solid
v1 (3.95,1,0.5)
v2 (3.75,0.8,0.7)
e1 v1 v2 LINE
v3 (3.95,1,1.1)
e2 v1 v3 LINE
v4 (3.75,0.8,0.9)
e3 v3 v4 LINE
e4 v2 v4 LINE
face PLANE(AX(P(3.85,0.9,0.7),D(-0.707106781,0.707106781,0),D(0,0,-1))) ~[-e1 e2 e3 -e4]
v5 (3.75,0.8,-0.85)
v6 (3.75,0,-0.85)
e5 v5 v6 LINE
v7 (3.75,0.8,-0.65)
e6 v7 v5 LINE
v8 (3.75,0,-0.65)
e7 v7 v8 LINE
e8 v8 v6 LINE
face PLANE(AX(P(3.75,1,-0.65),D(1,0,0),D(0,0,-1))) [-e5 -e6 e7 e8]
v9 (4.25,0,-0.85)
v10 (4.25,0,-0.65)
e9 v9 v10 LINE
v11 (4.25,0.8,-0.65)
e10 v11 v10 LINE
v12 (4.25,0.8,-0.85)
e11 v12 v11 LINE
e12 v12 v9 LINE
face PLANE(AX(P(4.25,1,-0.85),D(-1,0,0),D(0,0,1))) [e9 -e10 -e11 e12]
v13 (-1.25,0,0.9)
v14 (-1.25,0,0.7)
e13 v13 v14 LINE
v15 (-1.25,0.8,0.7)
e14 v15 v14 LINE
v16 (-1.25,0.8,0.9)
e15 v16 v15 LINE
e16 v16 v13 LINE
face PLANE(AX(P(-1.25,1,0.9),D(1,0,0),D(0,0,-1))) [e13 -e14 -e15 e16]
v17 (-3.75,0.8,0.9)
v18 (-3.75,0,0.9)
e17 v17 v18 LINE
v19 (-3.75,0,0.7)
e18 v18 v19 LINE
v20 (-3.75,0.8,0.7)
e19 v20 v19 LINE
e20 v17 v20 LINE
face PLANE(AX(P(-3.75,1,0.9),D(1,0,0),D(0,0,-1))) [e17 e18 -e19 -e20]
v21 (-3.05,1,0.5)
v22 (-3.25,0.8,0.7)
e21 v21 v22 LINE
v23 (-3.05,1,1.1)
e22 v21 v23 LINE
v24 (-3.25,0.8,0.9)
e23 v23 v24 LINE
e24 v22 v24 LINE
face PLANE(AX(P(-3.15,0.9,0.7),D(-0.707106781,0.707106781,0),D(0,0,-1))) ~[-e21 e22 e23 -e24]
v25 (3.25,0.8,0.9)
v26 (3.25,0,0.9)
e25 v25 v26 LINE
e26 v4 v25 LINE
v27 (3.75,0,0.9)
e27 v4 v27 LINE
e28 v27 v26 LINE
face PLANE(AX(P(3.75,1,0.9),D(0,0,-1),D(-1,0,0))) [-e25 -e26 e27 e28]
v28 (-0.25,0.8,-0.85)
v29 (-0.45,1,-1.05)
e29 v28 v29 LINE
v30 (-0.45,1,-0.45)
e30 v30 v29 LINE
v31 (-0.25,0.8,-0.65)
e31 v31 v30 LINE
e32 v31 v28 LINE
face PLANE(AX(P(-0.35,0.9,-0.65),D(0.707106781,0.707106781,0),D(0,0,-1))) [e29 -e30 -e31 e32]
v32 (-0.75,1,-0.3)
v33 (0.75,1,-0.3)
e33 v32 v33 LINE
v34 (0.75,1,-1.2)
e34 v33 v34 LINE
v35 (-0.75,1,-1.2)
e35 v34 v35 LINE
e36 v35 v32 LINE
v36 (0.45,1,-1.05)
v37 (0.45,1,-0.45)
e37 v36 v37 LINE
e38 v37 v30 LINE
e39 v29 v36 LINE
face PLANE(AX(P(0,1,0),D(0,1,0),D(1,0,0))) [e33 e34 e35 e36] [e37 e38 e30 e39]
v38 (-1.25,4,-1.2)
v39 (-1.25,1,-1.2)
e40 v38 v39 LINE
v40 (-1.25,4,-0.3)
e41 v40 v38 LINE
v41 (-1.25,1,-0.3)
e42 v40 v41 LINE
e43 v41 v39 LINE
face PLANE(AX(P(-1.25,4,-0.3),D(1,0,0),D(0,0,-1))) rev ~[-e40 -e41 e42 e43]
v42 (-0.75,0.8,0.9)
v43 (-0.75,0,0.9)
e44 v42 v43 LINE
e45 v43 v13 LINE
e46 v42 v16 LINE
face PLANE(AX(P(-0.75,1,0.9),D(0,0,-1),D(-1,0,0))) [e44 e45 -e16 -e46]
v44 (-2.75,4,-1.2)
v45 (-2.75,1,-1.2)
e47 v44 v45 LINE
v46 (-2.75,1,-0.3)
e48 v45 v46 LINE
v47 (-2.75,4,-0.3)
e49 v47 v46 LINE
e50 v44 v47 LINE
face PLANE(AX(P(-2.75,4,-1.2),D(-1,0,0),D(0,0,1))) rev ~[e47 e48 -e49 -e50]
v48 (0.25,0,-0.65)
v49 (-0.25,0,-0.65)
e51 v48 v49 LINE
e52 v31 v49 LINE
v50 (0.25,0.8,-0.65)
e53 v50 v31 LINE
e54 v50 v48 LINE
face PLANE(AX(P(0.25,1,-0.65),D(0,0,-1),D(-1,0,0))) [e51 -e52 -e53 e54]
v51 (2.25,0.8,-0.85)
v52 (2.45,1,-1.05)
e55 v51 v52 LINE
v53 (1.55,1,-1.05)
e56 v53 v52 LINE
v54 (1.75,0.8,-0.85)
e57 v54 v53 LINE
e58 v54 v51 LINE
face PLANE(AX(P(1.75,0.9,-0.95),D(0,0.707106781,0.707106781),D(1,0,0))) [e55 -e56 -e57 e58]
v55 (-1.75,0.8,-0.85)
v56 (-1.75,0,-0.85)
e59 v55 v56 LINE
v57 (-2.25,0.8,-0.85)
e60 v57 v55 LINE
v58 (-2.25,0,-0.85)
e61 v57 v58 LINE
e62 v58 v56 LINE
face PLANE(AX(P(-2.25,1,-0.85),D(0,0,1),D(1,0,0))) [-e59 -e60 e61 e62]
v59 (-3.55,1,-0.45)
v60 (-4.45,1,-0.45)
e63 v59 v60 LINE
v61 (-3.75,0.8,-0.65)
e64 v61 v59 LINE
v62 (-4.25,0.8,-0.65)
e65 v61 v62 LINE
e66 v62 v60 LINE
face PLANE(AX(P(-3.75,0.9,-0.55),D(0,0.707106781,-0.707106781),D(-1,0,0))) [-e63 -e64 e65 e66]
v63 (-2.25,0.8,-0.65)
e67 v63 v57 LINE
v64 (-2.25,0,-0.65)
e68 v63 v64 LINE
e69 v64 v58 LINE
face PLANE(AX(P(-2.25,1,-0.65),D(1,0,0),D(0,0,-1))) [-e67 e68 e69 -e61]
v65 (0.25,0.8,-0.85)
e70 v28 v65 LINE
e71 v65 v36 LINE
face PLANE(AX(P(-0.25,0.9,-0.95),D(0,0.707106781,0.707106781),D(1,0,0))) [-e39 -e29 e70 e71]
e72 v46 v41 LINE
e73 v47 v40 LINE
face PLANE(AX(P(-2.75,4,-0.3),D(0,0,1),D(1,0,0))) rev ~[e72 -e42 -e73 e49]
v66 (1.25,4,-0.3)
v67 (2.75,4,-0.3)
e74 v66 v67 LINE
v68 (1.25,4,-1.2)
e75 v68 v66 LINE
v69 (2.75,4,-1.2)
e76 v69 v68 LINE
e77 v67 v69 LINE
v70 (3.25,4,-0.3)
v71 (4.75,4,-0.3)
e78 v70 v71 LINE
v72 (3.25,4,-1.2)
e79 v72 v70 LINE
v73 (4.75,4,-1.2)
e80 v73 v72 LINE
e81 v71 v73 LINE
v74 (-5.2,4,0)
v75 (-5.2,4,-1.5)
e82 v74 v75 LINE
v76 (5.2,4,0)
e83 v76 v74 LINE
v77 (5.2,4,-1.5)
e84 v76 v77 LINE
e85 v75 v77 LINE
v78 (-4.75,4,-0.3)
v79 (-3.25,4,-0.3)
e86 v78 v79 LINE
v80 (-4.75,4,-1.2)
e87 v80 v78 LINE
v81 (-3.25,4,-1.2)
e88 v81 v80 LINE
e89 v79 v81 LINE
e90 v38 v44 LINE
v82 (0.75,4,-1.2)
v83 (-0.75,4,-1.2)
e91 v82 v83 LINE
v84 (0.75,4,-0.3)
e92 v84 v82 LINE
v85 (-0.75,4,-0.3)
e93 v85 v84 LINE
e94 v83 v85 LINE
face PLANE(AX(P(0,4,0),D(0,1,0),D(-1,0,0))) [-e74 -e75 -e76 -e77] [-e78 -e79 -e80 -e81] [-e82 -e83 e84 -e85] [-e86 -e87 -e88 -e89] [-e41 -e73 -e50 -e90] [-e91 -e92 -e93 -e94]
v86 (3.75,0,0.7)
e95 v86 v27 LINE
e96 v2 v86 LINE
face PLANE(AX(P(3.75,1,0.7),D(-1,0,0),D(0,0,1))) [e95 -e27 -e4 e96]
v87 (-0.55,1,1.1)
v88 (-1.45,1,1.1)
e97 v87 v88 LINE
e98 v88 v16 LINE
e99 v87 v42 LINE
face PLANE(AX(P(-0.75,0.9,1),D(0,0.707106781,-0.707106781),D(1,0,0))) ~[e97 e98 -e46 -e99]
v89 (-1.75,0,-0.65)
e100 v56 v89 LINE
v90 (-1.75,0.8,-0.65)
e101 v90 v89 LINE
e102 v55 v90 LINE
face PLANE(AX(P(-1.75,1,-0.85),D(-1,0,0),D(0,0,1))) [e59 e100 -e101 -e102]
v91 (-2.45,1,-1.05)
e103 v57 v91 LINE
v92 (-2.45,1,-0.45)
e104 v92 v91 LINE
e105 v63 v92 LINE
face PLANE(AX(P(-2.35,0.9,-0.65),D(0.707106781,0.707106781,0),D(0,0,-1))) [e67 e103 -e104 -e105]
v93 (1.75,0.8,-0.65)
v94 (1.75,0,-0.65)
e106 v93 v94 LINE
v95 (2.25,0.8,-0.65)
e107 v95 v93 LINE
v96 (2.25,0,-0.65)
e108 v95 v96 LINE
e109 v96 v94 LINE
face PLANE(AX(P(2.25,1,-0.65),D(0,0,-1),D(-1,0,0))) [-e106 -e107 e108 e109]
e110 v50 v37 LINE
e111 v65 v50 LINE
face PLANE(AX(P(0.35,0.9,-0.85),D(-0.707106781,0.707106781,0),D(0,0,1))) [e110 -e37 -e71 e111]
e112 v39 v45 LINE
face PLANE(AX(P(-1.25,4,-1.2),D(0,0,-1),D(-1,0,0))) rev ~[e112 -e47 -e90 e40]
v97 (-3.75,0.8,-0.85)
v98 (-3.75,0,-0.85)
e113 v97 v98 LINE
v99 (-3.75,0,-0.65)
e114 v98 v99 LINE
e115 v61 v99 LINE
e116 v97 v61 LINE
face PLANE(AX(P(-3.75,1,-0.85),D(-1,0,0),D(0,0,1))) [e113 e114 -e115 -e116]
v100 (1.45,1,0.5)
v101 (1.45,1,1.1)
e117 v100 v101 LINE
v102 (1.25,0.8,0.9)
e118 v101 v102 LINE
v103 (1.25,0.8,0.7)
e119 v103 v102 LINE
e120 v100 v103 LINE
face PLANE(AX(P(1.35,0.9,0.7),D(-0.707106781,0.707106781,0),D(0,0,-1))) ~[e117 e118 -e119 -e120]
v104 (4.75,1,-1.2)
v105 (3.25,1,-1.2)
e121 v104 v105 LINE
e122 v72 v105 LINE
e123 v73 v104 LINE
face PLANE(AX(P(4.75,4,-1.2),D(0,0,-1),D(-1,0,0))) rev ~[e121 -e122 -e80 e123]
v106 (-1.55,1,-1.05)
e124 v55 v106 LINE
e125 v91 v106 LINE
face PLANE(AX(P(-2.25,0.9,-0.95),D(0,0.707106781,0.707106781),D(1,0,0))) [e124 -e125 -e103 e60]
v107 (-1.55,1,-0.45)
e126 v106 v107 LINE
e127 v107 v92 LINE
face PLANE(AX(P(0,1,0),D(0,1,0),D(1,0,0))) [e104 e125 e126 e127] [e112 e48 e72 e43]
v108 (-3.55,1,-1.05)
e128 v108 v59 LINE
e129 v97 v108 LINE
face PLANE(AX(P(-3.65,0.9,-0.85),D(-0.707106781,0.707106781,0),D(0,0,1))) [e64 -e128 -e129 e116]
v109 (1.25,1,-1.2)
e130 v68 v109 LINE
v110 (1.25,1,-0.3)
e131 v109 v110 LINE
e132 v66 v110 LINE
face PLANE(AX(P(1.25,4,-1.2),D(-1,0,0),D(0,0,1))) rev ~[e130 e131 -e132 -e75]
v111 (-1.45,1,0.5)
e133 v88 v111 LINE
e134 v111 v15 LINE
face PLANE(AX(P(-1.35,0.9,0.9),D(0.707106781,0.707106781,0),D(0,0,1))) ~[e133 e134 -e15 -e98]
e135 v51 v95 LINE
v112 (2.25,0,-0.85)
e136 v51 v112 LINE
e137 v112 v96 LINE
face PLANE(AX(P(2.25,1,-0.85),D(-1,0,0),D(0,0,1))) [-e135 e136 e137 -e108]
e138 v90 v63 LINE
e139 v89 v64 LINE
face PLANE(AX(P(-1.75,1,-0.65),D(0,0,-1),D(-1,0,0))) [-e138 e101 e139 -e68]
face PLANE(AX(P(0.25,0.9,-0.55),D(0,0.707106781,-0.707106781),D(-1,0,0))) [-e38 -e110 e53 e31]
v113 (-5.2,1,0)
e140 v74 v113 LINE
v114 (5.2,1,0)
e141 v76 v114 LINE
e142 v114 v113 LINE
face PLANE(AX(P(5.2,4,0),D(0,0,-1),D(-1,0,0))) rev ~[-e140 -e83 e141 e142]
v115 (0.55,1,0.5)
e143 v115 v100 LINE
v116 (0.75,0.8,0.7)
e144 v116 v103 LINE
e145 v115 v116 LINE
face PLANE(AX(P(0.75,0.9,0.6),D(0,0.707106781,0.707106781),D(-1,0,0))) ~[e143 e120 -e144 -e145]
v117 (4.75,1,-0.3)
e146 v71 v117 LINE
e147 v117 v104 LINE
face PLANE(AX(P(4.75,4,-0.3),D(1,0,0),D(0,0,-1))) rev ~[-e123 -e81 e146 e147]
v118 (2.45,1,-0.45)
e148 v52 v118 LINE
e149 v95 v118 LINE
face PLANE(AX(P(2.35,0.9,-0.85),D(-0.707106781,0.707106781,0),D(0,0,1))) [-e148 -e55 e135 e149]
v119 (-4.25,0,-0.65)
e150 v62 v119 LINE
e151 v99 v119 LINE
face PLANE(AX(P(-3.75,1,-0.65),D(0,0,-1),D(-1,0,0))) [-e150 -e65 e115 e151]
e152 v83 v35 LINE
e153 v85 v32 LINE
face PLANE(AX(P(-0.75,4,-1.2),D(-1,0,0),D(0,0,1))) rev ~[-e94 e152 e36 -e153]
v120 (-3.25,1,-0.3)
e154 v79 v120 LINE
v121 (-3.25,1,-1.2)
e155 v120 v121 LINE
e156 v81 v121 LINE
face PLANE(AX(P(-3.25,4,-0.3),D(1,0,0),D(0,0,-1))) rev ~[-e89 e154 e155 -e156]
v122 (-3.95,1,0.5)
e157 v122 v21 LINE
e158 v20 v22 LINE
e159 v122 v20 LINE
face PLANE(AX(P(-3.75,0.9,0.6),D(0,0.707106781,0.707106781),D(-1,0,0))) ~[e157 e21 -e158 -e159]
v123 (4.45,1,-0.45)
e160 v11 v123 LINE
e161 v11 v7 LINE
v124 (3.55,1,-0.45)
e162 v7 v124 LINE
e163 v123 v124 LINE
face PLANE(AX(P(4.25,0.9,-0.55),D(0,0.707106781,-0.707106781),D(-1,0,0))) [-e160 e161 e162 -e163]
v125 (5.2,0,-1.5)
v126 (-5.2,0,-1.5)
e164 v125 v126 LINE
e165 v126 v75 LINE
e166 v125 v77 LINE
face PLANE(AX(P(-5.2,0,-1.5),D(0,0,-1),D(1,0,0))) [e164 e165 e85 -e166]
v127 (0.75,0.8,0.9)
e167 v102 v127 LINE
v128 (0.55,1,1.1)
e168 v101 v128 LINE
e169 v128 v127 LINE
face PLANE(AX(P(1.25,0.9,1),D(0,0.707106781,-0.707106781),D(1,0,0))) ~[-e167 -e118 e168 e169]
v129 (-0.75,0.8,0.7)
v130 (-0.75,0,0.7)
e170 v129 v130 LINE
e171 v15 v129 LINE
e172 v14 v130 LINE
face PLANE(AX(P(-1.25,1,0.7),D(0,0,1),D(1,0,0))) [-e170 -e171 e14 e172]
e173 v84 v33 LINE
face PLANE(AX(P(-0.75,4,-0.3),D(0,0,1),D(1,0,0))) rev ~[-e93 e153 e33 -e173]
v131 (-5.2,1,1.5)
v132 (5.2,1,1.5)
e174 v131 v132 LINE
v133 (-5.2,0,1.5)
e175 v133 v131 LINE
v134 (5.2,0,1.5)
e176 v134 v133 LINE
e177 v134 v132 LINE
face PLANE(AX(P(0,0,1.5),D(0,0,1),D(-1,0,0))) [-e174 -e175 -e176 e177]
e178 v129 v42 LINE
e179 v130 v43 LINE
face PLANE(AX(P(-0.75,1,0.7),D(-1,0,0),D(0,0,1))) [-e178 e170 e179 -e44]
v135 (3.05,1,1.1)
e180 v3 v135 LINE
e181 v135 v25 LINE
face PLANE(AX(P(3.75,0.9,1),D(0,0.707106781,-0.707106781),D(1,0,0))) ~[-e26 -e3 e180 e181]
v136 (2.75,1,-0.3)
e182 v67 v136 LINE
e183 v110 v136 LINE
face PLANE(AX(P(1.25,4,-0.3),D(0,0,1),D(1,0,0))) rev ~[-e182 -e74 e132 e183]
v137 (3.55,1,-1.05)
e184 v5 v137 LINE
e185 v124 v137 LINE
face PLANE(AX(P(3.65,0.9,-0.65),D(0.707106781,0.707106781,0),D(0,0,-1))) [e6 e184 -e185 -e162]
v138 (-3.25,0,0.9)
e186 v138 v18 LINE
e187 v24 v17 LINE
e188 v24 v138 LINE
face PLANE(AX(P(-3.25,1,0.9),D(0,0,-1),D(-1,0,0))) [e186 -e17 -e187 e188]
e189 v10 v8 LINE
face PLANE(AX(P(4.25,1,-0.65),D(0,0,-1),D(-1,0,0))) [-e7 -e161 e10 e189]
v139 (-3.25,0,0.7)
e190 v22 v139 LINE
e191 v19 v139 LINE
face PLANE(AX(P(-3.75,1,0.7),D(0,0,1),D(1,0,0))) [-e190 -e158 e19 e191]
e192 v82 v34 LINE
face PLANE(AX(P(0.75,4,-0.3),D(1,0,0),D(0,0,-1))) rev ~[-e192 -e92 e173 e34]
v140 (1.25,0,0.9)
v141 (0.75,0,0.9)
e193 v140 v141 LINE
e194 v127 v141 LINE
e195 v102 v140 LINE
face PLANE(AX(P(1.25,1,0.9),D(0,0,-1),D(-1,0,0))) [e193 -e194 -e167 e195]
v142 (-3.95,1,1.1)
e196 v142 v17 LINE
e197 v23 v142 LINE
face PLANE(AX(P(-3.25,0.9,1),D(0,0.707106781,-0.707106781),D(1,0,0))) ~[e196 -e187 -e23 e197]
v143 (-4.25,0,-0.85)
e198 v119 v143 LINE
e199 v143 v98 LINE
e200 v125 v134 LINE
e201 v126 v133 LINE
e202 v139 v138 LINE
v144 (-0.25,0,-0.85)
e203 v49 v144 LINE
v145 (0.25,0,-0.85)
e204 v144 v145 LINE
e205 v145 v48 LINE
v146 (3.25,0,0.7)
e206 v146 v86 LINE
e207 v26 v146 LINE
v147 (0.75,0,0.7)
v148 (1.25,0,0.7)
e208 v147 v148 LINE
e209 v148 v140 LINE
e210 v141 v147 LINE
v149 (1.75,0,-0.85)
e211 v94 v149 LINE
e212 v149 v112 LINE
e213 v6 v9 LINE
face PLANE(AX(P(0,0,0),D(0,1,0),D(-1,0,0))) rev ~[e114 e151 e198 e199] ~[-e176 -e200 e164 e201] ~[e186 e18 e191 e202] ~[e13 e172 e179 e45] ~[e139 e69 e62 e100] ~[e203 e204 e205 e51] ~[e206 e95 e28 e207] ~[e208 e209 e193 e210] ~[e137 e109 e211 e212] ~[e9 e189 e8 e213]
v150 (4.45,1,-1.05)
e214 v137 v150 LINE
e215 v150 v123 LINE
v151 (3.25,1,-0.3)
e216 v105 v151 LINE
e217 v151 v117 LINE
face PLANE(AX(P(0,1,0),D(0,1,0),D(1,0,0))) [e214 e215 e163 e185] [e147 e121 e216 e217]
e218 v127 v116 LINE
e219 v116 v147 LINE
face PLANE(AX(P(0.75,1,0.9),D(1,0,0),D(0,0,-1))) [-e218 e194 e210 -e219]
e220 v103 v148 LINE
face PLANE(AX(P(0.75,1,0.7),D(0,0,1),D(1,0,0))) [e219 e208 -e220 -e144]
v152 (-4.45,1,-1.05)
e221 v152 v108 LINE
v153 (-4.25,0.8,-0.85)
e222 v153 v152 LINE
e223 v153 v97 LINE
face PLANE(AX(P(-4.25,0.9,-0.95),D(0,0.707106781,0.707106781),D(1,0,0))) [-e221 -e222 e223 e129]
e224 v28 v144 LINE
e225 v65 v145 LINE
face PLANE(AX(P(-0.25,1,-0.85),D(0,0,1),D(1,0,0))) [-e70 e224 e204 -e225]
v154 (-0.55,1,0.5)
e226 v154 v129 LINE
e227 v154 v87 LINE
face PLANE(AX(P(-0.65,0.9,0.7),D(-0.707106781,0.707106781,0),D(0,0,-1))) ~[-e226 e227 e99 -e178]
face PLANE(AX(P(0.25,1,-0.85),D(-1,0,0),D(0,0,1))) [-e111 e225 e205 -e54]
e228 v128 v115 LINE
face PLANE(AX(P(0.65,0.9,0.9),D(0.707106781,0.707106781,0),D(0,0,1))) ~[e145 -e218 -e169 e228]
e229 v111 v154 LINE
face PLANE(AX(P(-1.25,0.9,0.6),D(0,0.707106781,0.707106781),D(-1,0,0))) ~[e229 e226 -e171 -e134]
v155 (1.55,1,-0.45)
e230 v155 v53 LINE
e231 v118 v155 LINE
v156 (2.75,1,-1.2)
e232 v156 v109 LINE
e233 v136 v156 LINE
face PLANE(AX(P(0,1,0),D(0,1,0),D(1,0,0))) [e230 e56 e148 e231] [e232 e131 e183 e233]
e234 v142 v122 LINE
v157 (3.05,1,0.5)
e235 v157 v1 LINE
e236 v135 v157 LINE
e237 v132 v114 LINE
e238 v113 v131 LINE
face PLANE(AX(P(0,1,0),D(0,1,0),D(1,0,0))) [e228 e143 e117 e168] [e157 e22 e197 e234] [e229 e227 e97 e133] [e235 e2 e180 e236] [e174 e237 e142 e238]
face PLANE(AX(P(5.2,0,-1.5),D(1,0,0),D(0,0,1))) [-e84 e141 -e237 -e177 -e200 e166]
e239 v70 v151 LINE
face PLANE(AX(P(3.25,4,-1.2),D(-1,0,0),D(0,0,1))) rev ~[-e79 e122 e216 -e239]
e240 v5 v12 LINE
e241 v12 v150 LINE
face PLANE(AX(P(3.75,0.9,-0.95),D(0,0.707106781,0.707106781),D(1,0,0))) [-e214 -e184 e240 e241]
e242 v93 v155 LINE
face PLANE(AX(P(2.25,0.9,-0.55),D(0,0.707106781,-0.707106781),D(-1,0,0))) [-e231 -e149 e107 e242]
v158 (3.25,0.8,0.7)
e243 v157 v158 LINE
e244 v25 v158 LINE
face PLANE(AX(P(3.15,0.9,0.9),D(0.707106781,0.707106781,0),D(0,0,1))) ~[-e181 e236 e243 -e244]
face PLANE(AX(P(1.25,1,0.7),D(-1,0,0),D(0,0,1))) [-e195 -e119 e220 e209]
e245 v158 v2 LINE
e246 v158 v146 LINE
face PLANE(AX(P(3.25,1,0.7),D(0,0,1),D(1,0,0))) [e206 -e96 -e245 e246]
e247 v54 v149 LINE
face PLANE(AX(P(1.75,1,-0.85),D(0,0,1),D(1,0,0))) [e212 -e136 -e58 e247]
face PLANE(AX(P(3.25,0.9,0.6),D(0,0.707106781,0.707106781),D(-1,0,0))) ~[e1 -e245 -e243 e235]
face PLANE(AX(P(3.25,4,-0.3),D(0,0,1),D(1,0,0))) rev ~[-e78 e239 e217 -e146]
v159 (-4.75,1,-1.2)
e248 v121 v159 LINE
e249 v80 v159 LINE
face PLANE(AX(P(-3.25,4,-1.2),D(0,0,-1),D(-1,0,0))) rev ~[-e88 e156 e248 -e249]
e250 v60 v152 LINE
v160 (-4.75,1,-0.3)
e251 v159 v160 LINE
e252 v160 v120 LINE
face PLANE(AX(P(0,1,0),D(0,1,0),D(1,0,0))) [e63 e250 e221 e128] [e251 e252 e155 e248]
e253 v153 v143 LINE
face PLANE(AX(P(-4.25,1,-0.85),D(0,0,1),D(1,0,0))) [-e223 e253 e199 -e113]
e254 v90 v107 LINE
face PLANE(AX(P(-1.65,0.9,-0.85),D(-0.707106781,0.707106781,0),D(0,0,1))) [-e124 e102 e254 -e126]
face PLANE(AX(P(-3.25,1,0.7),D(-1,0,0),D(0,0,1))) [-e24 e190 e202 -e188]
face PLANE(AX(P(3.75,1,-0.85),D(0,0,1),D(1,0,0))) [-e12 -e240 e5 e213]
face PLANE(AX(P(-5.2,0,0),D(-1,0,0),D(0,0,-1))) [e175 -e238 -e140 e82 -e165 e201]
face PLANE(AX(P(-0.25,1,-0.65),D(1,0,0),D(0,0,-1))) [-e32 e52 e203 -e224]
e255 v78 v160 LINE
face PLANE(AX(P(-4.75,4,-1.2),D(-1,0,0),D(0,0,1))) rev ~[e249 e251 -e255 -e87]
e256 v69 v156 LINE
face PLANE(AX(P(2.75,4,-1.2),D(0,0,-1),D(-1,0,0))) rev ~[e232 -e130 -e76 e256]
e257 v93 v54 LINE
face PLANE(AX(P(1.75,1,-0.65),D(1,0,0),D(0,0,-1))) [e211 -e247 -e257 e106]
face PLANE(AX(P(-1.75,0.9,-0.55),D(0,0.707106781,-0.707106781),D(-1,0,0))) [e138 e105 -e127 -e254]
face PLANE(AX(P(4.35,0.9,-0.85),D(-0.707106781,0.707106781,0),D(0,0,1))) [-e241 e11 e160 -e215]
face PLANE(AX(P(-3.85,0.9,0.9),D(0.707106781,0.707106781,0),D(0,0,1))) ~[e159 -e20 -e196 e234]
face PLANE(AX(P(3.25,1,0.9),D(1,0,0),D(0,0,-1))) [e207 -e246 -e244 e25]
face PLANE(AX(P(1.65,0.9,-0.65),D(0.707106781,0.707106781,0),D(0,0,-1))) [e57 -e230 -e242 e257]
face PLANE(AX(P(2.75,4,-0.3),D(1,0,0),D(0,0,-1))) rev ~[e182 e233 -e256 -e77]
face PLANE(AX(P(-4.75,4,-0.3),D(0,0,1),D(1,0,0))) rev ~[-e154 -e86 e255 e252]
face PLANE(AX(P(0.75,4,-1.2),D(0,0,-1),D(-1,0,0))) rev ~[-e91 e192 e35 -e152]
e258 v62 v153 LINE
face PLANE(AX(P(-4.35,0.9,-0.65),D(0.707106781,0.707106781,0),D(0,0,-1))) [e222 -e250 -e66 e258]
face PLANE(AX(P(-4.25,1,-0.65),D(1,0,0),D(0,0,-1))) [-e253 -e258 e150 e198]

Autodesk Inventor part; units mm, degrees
ref_plane "YZ Plane" through (0, 0, 0) normal (1, 0, 0) x (0, 1, 0)
ref_plane "XZ Plane" through (0, 0, 0) normal (0, 1, 0) x (-1, 0, 0)
ref_plane "XY Plane" through (0, 0, 0) normal (0, 0, 1) x (1, 0, 0)
sketch "Sketch1" plane through (0, 0, 0) normal (0, 1, 0) x (-1, 0, 0)
  line L0 (5.2, -1.5) -> (-5.2, -1.5)
  line L1 (-5.2, -1.5) -> (-5.2, 1.5)
  line L2 (-5.2, 1.5) -> (5.2, 1.5)
  line L3 (5.2, 1.5) -> (5.2, -1.5)
  line L4 (7.28, 0) -> (-7.28, 0) projected
  line L5 (0, -2.1) -> (0, 2.1) projected
  point P0 (0, 0)
  dimension "d0" = 10.4
  dimension "d1" = 3
extrude "Extrusion1" add sketch "Sketch1" along normal blind 4
sketch "Sketch2" plane through (0, 4, 0) normal (0, 1, 0) x (1, 0, 0)
  line L0 (-5.2, -1.5) -> (5.2, -1.5) projected
  line L1 (5.2, -1.5) -> (5.2, 1.5) projected
  line L2 (-5.2, -1.5) -> (5.2, -1.5)
  line L3 (5.2, -1.5) -> (5.2, 0)
  line L4 (5.2, 0) -> (-5.2, 0)
  line L5 (-5.2, 0) -> (-5.2, -1.5)
  line L6 (-4.75, 0.3) -> (-3.25, 0.3)
  line L7 (-3.25, 0.3) -> (-3.25, 1.2)
  line L8 (-3.25, 1.2) -> (-4.75, 1.2)
  line L9 (-4.75, 1.2) -> (-4.75, 0.3)
  line L10 (-5.2, 1.5) -> (-5.2, -1.5) projected
  line L11 (-2.75, 0.3) -> (-1.25, 0.3)
  line L12 (-1.25, 0.3) -> (-1.25, 1.2)
  line L13 (-1.25, 1.2) -> (-2.75, 1.2)
  line L14 (-2.75, 1.2) -> (-2.75, 0.3)
  line L15 (-0.75, 0.3) -> (0.75, 0.3)
  line L16 (0.75, 0.3) -> (0.75, 1.2)
  line L17 (0.75, 1.2) -> (-0.75, 1.2)
  line L18 (-0.75, 1.2) -> (-0.75, 0.3)
  line L19 (1.25, 0.3) -> (2.75, 0.3)
  line L20 (2.75, 0.3) -> (2.75, 1.2)
  line L21 (2.75, 1.2) -> (1.25, 1.2)
  line L22 (1.25, 1.2) -> (1.25, 0.3)
  line L23 (3.25, 0.3) -> (4.75, 0.3)
  line L24 (4.75, 0.3) -> (4.75, 1.2)
  line L25 (4.75, 1.2) -> (3.25, 1.2)
  line L26 (3.25, 1.2) -> (3.25, 0.3)
  point P0 (0, 0)
  dimension "d4" = 1.5
  dimension "d5" = 0.9
  dimension "d6" = 0.3
  dimension "d7" = 0.45
  dimension "d10" = 2
extrude "Extrusion2" cut sketch "Sketch2" against normal blind 3
sketch "Sketch3" plane through (0, 1, 0) normal (0, 1, 0) x (1, 0, 0)
  line L0 (3.75, -0.9) -> (3.25, -0.9)
  line L1 (3.25, -0.9) -> (3.25, -0.7)
  line L2 (3.25, -0.7) -> (3.75, -0.7)
  line L3 (3.75, -0.7) -> (3.75, -0.9)
  line L4 (5.2, 1.5) -> (-5.2, 1.5) projected
  line L5 (5.2, -1.5) -> (-5.2, -1.5) projected
  line L6 (5.2, 0) -> (5.2, -1.5) projected
  line L7 (1.25, -0.9) -> (0.75, -0.9)
  line L8 (0.75, -0.9) -> (0.75, -0.7)
  line L9 (0.75, -0.7) -> (1.25, -0.7)
  line L10 (1.25, -0.7) -> (1.25, -0.9)
  line L11 (-0.75, -0.9) -> (-1.25, -0.9)
  line L12 (-1.25, -0.9) -> (-1.25, -0.7)
  line L13 (-1.25, -0.7) -> (-0.75, -0.7)
  line L14 (-0.75, -0.7) -> (-0.75, -0.9)
  line L15 (-3.25, -0.9) -> (-3.75, -0.9)
  line L16 (-3.75, -0.9) -> (-3.75, -0.7)
  line L17 (-3.75, -0.7) -> (-3.25, -0.7)
  line L18 (-3.25, -0.7) -> (-3.25, -0.9)
  line L19 (-5.2, -1.5) -> (-5.2, 0) projected
  line L20 (-3.75, 0.65) -> (-4.25, 0.65)
  line L21 (-4.25, 0.65) -> (-4.25, 0.85)
  line L22 (-4.25, 0.85) -> (-3.75, 0.85)
  line L23 (-3.75, 0.85) -> (-3.75, 0.65)
  line L24 (-4.75, 0.3) -> (-4.75, 1.2) projected
  line L25 (-3.25, 1.2) -> (-3.25, 0.3) projected
  line L26 (-4.75, 1.2) -> (-3.25, 1.2) projected
  line L27 (-3.25, 0.3) -> (-4.75, 0.3) projected
  line L28 (-1.75, 0.85) -> (-1.75, 0.65)
  line L29 (-1.75, 0.65) -> (-2.25, 0.65)
  line L30 (-2.25, 0.85) -> (-1.75, 0.85)
  line L31 (-2.25, 0.65) -> (-2.25, 0.85)
  line L32 (0.25, 0.85) -> (0.25, 0.65)
  line L33 (0.25, 0.65) -> (-0.25, 0.65)
  line L34 (-0.25, 0.85) -> (0.25, 0.85)
  line L35 (-0.25, 0.65) -> (-0.25, 0.85)
  line L36 (2.25, 0.85) -> (2.25, 0.65)
  line L37 (2.25, 0.65) -> (1.75, 0.65)
  line L38 (1.75, 0.85) -> (2.25, 0.85)
  line L39 (1.75, 0.65) -> (1.75, 0.85)
  line L40 (4.25, 0.85) -> (4.25, 0.65)
  line L41 (4.25, 0.65) -> (3.75, 0.65)
  line L42 (3.75, 0.85) -> (4.25, 0.85)
  line L43 (3.75, 0.65) -> (3.75, 0.85)
  point P0 (0, 0)
  dimension "d18" = 0.2
  dimension "d19" = 0.5
  dimension "d20" = 0.6
  dimension "d21" = 1.45
  dimension "d22" = 0.2
  dimension "d23" = 0.5
  dimension "d24" = 0.2
  dimension "d25" = 0.5
  dimension "d26" = 0.2
  dimension "d27" = 0.5
  dimension "d28" = 3.95
  dimension "d29" = 1.45
  dimension "d30" = 3.95
  dimension "d36" = 0.2
  dimension "d37" = 0.5
  dimension "d38" = 0.5
  dimension "d39" = 0.5
  dimension "d40" = 0.35
  dimension "d41" = 0.35
  dimension "d44" = 2
extrude "Extrusion3" cut sketch "Sketch3" against normal up to surface (1 mm away) contours L0 L1 L2 L3 | L7 L8 L9 L10 | L11 L12 L13 L14 | L15 L16 L17 L18 | L20 L21 L22 L23 | L28 L29 L31 L30 | L32 L33 L35 L34 | L36 L37 L39 L38 | L40 L41 L43 L42
chamfer "Chamfer1" distance 0.2 angle 45 36 edges at (-3.75, 1, 0.8) (-3.5, 1, 0.7) (-3.5, 1, 0.9) (-3.25, 1, 0.8) (-1.25, 1, 0.8) (-1, 1, 0.7) (-1, 1, 0.9) (-0.75, 1, 0.8) (0.75, 1, 0.8) (1, 1, 0.7) (1, 1, 0.9) (1.25, 1, 0.8) (3.25, 1, 0.8) (3.5, 1, 0.7) (3.5, 1, 0.9) (3.75, 1, 0.8) (3.75, 1, -0.75) (4, 1, -0.65) (4.25, 1, -0.75) (4, 1, -0.85) (2.25, 1, -0.75) (2, 1, -0.85) (1.75, 1, -0.75) (2, 1, -0.65) (0, 1, -0.65) (0.25, 1, -0.75) (-0.25, 1, -0.75) (0, 1, -0.85) (-1.75, 1, -0.75) (-2, 1, -0.85) (-2, 1, -0.65) (-2.25, 1, -0.75) (-3.75, 1, -0.75) (-4, 1, -0.85) (-4, 1, -0.65) (-4.25, 1, -0.75)
equation "\"d29\" = d21"
equation "\"d30\" = d28"
equation "\"d38\" = d39"
equation "\"d40\" = d41"
properties part number "USB 3.0 A Recepticle Rear Insert Fit" material "PBT Plastic"
